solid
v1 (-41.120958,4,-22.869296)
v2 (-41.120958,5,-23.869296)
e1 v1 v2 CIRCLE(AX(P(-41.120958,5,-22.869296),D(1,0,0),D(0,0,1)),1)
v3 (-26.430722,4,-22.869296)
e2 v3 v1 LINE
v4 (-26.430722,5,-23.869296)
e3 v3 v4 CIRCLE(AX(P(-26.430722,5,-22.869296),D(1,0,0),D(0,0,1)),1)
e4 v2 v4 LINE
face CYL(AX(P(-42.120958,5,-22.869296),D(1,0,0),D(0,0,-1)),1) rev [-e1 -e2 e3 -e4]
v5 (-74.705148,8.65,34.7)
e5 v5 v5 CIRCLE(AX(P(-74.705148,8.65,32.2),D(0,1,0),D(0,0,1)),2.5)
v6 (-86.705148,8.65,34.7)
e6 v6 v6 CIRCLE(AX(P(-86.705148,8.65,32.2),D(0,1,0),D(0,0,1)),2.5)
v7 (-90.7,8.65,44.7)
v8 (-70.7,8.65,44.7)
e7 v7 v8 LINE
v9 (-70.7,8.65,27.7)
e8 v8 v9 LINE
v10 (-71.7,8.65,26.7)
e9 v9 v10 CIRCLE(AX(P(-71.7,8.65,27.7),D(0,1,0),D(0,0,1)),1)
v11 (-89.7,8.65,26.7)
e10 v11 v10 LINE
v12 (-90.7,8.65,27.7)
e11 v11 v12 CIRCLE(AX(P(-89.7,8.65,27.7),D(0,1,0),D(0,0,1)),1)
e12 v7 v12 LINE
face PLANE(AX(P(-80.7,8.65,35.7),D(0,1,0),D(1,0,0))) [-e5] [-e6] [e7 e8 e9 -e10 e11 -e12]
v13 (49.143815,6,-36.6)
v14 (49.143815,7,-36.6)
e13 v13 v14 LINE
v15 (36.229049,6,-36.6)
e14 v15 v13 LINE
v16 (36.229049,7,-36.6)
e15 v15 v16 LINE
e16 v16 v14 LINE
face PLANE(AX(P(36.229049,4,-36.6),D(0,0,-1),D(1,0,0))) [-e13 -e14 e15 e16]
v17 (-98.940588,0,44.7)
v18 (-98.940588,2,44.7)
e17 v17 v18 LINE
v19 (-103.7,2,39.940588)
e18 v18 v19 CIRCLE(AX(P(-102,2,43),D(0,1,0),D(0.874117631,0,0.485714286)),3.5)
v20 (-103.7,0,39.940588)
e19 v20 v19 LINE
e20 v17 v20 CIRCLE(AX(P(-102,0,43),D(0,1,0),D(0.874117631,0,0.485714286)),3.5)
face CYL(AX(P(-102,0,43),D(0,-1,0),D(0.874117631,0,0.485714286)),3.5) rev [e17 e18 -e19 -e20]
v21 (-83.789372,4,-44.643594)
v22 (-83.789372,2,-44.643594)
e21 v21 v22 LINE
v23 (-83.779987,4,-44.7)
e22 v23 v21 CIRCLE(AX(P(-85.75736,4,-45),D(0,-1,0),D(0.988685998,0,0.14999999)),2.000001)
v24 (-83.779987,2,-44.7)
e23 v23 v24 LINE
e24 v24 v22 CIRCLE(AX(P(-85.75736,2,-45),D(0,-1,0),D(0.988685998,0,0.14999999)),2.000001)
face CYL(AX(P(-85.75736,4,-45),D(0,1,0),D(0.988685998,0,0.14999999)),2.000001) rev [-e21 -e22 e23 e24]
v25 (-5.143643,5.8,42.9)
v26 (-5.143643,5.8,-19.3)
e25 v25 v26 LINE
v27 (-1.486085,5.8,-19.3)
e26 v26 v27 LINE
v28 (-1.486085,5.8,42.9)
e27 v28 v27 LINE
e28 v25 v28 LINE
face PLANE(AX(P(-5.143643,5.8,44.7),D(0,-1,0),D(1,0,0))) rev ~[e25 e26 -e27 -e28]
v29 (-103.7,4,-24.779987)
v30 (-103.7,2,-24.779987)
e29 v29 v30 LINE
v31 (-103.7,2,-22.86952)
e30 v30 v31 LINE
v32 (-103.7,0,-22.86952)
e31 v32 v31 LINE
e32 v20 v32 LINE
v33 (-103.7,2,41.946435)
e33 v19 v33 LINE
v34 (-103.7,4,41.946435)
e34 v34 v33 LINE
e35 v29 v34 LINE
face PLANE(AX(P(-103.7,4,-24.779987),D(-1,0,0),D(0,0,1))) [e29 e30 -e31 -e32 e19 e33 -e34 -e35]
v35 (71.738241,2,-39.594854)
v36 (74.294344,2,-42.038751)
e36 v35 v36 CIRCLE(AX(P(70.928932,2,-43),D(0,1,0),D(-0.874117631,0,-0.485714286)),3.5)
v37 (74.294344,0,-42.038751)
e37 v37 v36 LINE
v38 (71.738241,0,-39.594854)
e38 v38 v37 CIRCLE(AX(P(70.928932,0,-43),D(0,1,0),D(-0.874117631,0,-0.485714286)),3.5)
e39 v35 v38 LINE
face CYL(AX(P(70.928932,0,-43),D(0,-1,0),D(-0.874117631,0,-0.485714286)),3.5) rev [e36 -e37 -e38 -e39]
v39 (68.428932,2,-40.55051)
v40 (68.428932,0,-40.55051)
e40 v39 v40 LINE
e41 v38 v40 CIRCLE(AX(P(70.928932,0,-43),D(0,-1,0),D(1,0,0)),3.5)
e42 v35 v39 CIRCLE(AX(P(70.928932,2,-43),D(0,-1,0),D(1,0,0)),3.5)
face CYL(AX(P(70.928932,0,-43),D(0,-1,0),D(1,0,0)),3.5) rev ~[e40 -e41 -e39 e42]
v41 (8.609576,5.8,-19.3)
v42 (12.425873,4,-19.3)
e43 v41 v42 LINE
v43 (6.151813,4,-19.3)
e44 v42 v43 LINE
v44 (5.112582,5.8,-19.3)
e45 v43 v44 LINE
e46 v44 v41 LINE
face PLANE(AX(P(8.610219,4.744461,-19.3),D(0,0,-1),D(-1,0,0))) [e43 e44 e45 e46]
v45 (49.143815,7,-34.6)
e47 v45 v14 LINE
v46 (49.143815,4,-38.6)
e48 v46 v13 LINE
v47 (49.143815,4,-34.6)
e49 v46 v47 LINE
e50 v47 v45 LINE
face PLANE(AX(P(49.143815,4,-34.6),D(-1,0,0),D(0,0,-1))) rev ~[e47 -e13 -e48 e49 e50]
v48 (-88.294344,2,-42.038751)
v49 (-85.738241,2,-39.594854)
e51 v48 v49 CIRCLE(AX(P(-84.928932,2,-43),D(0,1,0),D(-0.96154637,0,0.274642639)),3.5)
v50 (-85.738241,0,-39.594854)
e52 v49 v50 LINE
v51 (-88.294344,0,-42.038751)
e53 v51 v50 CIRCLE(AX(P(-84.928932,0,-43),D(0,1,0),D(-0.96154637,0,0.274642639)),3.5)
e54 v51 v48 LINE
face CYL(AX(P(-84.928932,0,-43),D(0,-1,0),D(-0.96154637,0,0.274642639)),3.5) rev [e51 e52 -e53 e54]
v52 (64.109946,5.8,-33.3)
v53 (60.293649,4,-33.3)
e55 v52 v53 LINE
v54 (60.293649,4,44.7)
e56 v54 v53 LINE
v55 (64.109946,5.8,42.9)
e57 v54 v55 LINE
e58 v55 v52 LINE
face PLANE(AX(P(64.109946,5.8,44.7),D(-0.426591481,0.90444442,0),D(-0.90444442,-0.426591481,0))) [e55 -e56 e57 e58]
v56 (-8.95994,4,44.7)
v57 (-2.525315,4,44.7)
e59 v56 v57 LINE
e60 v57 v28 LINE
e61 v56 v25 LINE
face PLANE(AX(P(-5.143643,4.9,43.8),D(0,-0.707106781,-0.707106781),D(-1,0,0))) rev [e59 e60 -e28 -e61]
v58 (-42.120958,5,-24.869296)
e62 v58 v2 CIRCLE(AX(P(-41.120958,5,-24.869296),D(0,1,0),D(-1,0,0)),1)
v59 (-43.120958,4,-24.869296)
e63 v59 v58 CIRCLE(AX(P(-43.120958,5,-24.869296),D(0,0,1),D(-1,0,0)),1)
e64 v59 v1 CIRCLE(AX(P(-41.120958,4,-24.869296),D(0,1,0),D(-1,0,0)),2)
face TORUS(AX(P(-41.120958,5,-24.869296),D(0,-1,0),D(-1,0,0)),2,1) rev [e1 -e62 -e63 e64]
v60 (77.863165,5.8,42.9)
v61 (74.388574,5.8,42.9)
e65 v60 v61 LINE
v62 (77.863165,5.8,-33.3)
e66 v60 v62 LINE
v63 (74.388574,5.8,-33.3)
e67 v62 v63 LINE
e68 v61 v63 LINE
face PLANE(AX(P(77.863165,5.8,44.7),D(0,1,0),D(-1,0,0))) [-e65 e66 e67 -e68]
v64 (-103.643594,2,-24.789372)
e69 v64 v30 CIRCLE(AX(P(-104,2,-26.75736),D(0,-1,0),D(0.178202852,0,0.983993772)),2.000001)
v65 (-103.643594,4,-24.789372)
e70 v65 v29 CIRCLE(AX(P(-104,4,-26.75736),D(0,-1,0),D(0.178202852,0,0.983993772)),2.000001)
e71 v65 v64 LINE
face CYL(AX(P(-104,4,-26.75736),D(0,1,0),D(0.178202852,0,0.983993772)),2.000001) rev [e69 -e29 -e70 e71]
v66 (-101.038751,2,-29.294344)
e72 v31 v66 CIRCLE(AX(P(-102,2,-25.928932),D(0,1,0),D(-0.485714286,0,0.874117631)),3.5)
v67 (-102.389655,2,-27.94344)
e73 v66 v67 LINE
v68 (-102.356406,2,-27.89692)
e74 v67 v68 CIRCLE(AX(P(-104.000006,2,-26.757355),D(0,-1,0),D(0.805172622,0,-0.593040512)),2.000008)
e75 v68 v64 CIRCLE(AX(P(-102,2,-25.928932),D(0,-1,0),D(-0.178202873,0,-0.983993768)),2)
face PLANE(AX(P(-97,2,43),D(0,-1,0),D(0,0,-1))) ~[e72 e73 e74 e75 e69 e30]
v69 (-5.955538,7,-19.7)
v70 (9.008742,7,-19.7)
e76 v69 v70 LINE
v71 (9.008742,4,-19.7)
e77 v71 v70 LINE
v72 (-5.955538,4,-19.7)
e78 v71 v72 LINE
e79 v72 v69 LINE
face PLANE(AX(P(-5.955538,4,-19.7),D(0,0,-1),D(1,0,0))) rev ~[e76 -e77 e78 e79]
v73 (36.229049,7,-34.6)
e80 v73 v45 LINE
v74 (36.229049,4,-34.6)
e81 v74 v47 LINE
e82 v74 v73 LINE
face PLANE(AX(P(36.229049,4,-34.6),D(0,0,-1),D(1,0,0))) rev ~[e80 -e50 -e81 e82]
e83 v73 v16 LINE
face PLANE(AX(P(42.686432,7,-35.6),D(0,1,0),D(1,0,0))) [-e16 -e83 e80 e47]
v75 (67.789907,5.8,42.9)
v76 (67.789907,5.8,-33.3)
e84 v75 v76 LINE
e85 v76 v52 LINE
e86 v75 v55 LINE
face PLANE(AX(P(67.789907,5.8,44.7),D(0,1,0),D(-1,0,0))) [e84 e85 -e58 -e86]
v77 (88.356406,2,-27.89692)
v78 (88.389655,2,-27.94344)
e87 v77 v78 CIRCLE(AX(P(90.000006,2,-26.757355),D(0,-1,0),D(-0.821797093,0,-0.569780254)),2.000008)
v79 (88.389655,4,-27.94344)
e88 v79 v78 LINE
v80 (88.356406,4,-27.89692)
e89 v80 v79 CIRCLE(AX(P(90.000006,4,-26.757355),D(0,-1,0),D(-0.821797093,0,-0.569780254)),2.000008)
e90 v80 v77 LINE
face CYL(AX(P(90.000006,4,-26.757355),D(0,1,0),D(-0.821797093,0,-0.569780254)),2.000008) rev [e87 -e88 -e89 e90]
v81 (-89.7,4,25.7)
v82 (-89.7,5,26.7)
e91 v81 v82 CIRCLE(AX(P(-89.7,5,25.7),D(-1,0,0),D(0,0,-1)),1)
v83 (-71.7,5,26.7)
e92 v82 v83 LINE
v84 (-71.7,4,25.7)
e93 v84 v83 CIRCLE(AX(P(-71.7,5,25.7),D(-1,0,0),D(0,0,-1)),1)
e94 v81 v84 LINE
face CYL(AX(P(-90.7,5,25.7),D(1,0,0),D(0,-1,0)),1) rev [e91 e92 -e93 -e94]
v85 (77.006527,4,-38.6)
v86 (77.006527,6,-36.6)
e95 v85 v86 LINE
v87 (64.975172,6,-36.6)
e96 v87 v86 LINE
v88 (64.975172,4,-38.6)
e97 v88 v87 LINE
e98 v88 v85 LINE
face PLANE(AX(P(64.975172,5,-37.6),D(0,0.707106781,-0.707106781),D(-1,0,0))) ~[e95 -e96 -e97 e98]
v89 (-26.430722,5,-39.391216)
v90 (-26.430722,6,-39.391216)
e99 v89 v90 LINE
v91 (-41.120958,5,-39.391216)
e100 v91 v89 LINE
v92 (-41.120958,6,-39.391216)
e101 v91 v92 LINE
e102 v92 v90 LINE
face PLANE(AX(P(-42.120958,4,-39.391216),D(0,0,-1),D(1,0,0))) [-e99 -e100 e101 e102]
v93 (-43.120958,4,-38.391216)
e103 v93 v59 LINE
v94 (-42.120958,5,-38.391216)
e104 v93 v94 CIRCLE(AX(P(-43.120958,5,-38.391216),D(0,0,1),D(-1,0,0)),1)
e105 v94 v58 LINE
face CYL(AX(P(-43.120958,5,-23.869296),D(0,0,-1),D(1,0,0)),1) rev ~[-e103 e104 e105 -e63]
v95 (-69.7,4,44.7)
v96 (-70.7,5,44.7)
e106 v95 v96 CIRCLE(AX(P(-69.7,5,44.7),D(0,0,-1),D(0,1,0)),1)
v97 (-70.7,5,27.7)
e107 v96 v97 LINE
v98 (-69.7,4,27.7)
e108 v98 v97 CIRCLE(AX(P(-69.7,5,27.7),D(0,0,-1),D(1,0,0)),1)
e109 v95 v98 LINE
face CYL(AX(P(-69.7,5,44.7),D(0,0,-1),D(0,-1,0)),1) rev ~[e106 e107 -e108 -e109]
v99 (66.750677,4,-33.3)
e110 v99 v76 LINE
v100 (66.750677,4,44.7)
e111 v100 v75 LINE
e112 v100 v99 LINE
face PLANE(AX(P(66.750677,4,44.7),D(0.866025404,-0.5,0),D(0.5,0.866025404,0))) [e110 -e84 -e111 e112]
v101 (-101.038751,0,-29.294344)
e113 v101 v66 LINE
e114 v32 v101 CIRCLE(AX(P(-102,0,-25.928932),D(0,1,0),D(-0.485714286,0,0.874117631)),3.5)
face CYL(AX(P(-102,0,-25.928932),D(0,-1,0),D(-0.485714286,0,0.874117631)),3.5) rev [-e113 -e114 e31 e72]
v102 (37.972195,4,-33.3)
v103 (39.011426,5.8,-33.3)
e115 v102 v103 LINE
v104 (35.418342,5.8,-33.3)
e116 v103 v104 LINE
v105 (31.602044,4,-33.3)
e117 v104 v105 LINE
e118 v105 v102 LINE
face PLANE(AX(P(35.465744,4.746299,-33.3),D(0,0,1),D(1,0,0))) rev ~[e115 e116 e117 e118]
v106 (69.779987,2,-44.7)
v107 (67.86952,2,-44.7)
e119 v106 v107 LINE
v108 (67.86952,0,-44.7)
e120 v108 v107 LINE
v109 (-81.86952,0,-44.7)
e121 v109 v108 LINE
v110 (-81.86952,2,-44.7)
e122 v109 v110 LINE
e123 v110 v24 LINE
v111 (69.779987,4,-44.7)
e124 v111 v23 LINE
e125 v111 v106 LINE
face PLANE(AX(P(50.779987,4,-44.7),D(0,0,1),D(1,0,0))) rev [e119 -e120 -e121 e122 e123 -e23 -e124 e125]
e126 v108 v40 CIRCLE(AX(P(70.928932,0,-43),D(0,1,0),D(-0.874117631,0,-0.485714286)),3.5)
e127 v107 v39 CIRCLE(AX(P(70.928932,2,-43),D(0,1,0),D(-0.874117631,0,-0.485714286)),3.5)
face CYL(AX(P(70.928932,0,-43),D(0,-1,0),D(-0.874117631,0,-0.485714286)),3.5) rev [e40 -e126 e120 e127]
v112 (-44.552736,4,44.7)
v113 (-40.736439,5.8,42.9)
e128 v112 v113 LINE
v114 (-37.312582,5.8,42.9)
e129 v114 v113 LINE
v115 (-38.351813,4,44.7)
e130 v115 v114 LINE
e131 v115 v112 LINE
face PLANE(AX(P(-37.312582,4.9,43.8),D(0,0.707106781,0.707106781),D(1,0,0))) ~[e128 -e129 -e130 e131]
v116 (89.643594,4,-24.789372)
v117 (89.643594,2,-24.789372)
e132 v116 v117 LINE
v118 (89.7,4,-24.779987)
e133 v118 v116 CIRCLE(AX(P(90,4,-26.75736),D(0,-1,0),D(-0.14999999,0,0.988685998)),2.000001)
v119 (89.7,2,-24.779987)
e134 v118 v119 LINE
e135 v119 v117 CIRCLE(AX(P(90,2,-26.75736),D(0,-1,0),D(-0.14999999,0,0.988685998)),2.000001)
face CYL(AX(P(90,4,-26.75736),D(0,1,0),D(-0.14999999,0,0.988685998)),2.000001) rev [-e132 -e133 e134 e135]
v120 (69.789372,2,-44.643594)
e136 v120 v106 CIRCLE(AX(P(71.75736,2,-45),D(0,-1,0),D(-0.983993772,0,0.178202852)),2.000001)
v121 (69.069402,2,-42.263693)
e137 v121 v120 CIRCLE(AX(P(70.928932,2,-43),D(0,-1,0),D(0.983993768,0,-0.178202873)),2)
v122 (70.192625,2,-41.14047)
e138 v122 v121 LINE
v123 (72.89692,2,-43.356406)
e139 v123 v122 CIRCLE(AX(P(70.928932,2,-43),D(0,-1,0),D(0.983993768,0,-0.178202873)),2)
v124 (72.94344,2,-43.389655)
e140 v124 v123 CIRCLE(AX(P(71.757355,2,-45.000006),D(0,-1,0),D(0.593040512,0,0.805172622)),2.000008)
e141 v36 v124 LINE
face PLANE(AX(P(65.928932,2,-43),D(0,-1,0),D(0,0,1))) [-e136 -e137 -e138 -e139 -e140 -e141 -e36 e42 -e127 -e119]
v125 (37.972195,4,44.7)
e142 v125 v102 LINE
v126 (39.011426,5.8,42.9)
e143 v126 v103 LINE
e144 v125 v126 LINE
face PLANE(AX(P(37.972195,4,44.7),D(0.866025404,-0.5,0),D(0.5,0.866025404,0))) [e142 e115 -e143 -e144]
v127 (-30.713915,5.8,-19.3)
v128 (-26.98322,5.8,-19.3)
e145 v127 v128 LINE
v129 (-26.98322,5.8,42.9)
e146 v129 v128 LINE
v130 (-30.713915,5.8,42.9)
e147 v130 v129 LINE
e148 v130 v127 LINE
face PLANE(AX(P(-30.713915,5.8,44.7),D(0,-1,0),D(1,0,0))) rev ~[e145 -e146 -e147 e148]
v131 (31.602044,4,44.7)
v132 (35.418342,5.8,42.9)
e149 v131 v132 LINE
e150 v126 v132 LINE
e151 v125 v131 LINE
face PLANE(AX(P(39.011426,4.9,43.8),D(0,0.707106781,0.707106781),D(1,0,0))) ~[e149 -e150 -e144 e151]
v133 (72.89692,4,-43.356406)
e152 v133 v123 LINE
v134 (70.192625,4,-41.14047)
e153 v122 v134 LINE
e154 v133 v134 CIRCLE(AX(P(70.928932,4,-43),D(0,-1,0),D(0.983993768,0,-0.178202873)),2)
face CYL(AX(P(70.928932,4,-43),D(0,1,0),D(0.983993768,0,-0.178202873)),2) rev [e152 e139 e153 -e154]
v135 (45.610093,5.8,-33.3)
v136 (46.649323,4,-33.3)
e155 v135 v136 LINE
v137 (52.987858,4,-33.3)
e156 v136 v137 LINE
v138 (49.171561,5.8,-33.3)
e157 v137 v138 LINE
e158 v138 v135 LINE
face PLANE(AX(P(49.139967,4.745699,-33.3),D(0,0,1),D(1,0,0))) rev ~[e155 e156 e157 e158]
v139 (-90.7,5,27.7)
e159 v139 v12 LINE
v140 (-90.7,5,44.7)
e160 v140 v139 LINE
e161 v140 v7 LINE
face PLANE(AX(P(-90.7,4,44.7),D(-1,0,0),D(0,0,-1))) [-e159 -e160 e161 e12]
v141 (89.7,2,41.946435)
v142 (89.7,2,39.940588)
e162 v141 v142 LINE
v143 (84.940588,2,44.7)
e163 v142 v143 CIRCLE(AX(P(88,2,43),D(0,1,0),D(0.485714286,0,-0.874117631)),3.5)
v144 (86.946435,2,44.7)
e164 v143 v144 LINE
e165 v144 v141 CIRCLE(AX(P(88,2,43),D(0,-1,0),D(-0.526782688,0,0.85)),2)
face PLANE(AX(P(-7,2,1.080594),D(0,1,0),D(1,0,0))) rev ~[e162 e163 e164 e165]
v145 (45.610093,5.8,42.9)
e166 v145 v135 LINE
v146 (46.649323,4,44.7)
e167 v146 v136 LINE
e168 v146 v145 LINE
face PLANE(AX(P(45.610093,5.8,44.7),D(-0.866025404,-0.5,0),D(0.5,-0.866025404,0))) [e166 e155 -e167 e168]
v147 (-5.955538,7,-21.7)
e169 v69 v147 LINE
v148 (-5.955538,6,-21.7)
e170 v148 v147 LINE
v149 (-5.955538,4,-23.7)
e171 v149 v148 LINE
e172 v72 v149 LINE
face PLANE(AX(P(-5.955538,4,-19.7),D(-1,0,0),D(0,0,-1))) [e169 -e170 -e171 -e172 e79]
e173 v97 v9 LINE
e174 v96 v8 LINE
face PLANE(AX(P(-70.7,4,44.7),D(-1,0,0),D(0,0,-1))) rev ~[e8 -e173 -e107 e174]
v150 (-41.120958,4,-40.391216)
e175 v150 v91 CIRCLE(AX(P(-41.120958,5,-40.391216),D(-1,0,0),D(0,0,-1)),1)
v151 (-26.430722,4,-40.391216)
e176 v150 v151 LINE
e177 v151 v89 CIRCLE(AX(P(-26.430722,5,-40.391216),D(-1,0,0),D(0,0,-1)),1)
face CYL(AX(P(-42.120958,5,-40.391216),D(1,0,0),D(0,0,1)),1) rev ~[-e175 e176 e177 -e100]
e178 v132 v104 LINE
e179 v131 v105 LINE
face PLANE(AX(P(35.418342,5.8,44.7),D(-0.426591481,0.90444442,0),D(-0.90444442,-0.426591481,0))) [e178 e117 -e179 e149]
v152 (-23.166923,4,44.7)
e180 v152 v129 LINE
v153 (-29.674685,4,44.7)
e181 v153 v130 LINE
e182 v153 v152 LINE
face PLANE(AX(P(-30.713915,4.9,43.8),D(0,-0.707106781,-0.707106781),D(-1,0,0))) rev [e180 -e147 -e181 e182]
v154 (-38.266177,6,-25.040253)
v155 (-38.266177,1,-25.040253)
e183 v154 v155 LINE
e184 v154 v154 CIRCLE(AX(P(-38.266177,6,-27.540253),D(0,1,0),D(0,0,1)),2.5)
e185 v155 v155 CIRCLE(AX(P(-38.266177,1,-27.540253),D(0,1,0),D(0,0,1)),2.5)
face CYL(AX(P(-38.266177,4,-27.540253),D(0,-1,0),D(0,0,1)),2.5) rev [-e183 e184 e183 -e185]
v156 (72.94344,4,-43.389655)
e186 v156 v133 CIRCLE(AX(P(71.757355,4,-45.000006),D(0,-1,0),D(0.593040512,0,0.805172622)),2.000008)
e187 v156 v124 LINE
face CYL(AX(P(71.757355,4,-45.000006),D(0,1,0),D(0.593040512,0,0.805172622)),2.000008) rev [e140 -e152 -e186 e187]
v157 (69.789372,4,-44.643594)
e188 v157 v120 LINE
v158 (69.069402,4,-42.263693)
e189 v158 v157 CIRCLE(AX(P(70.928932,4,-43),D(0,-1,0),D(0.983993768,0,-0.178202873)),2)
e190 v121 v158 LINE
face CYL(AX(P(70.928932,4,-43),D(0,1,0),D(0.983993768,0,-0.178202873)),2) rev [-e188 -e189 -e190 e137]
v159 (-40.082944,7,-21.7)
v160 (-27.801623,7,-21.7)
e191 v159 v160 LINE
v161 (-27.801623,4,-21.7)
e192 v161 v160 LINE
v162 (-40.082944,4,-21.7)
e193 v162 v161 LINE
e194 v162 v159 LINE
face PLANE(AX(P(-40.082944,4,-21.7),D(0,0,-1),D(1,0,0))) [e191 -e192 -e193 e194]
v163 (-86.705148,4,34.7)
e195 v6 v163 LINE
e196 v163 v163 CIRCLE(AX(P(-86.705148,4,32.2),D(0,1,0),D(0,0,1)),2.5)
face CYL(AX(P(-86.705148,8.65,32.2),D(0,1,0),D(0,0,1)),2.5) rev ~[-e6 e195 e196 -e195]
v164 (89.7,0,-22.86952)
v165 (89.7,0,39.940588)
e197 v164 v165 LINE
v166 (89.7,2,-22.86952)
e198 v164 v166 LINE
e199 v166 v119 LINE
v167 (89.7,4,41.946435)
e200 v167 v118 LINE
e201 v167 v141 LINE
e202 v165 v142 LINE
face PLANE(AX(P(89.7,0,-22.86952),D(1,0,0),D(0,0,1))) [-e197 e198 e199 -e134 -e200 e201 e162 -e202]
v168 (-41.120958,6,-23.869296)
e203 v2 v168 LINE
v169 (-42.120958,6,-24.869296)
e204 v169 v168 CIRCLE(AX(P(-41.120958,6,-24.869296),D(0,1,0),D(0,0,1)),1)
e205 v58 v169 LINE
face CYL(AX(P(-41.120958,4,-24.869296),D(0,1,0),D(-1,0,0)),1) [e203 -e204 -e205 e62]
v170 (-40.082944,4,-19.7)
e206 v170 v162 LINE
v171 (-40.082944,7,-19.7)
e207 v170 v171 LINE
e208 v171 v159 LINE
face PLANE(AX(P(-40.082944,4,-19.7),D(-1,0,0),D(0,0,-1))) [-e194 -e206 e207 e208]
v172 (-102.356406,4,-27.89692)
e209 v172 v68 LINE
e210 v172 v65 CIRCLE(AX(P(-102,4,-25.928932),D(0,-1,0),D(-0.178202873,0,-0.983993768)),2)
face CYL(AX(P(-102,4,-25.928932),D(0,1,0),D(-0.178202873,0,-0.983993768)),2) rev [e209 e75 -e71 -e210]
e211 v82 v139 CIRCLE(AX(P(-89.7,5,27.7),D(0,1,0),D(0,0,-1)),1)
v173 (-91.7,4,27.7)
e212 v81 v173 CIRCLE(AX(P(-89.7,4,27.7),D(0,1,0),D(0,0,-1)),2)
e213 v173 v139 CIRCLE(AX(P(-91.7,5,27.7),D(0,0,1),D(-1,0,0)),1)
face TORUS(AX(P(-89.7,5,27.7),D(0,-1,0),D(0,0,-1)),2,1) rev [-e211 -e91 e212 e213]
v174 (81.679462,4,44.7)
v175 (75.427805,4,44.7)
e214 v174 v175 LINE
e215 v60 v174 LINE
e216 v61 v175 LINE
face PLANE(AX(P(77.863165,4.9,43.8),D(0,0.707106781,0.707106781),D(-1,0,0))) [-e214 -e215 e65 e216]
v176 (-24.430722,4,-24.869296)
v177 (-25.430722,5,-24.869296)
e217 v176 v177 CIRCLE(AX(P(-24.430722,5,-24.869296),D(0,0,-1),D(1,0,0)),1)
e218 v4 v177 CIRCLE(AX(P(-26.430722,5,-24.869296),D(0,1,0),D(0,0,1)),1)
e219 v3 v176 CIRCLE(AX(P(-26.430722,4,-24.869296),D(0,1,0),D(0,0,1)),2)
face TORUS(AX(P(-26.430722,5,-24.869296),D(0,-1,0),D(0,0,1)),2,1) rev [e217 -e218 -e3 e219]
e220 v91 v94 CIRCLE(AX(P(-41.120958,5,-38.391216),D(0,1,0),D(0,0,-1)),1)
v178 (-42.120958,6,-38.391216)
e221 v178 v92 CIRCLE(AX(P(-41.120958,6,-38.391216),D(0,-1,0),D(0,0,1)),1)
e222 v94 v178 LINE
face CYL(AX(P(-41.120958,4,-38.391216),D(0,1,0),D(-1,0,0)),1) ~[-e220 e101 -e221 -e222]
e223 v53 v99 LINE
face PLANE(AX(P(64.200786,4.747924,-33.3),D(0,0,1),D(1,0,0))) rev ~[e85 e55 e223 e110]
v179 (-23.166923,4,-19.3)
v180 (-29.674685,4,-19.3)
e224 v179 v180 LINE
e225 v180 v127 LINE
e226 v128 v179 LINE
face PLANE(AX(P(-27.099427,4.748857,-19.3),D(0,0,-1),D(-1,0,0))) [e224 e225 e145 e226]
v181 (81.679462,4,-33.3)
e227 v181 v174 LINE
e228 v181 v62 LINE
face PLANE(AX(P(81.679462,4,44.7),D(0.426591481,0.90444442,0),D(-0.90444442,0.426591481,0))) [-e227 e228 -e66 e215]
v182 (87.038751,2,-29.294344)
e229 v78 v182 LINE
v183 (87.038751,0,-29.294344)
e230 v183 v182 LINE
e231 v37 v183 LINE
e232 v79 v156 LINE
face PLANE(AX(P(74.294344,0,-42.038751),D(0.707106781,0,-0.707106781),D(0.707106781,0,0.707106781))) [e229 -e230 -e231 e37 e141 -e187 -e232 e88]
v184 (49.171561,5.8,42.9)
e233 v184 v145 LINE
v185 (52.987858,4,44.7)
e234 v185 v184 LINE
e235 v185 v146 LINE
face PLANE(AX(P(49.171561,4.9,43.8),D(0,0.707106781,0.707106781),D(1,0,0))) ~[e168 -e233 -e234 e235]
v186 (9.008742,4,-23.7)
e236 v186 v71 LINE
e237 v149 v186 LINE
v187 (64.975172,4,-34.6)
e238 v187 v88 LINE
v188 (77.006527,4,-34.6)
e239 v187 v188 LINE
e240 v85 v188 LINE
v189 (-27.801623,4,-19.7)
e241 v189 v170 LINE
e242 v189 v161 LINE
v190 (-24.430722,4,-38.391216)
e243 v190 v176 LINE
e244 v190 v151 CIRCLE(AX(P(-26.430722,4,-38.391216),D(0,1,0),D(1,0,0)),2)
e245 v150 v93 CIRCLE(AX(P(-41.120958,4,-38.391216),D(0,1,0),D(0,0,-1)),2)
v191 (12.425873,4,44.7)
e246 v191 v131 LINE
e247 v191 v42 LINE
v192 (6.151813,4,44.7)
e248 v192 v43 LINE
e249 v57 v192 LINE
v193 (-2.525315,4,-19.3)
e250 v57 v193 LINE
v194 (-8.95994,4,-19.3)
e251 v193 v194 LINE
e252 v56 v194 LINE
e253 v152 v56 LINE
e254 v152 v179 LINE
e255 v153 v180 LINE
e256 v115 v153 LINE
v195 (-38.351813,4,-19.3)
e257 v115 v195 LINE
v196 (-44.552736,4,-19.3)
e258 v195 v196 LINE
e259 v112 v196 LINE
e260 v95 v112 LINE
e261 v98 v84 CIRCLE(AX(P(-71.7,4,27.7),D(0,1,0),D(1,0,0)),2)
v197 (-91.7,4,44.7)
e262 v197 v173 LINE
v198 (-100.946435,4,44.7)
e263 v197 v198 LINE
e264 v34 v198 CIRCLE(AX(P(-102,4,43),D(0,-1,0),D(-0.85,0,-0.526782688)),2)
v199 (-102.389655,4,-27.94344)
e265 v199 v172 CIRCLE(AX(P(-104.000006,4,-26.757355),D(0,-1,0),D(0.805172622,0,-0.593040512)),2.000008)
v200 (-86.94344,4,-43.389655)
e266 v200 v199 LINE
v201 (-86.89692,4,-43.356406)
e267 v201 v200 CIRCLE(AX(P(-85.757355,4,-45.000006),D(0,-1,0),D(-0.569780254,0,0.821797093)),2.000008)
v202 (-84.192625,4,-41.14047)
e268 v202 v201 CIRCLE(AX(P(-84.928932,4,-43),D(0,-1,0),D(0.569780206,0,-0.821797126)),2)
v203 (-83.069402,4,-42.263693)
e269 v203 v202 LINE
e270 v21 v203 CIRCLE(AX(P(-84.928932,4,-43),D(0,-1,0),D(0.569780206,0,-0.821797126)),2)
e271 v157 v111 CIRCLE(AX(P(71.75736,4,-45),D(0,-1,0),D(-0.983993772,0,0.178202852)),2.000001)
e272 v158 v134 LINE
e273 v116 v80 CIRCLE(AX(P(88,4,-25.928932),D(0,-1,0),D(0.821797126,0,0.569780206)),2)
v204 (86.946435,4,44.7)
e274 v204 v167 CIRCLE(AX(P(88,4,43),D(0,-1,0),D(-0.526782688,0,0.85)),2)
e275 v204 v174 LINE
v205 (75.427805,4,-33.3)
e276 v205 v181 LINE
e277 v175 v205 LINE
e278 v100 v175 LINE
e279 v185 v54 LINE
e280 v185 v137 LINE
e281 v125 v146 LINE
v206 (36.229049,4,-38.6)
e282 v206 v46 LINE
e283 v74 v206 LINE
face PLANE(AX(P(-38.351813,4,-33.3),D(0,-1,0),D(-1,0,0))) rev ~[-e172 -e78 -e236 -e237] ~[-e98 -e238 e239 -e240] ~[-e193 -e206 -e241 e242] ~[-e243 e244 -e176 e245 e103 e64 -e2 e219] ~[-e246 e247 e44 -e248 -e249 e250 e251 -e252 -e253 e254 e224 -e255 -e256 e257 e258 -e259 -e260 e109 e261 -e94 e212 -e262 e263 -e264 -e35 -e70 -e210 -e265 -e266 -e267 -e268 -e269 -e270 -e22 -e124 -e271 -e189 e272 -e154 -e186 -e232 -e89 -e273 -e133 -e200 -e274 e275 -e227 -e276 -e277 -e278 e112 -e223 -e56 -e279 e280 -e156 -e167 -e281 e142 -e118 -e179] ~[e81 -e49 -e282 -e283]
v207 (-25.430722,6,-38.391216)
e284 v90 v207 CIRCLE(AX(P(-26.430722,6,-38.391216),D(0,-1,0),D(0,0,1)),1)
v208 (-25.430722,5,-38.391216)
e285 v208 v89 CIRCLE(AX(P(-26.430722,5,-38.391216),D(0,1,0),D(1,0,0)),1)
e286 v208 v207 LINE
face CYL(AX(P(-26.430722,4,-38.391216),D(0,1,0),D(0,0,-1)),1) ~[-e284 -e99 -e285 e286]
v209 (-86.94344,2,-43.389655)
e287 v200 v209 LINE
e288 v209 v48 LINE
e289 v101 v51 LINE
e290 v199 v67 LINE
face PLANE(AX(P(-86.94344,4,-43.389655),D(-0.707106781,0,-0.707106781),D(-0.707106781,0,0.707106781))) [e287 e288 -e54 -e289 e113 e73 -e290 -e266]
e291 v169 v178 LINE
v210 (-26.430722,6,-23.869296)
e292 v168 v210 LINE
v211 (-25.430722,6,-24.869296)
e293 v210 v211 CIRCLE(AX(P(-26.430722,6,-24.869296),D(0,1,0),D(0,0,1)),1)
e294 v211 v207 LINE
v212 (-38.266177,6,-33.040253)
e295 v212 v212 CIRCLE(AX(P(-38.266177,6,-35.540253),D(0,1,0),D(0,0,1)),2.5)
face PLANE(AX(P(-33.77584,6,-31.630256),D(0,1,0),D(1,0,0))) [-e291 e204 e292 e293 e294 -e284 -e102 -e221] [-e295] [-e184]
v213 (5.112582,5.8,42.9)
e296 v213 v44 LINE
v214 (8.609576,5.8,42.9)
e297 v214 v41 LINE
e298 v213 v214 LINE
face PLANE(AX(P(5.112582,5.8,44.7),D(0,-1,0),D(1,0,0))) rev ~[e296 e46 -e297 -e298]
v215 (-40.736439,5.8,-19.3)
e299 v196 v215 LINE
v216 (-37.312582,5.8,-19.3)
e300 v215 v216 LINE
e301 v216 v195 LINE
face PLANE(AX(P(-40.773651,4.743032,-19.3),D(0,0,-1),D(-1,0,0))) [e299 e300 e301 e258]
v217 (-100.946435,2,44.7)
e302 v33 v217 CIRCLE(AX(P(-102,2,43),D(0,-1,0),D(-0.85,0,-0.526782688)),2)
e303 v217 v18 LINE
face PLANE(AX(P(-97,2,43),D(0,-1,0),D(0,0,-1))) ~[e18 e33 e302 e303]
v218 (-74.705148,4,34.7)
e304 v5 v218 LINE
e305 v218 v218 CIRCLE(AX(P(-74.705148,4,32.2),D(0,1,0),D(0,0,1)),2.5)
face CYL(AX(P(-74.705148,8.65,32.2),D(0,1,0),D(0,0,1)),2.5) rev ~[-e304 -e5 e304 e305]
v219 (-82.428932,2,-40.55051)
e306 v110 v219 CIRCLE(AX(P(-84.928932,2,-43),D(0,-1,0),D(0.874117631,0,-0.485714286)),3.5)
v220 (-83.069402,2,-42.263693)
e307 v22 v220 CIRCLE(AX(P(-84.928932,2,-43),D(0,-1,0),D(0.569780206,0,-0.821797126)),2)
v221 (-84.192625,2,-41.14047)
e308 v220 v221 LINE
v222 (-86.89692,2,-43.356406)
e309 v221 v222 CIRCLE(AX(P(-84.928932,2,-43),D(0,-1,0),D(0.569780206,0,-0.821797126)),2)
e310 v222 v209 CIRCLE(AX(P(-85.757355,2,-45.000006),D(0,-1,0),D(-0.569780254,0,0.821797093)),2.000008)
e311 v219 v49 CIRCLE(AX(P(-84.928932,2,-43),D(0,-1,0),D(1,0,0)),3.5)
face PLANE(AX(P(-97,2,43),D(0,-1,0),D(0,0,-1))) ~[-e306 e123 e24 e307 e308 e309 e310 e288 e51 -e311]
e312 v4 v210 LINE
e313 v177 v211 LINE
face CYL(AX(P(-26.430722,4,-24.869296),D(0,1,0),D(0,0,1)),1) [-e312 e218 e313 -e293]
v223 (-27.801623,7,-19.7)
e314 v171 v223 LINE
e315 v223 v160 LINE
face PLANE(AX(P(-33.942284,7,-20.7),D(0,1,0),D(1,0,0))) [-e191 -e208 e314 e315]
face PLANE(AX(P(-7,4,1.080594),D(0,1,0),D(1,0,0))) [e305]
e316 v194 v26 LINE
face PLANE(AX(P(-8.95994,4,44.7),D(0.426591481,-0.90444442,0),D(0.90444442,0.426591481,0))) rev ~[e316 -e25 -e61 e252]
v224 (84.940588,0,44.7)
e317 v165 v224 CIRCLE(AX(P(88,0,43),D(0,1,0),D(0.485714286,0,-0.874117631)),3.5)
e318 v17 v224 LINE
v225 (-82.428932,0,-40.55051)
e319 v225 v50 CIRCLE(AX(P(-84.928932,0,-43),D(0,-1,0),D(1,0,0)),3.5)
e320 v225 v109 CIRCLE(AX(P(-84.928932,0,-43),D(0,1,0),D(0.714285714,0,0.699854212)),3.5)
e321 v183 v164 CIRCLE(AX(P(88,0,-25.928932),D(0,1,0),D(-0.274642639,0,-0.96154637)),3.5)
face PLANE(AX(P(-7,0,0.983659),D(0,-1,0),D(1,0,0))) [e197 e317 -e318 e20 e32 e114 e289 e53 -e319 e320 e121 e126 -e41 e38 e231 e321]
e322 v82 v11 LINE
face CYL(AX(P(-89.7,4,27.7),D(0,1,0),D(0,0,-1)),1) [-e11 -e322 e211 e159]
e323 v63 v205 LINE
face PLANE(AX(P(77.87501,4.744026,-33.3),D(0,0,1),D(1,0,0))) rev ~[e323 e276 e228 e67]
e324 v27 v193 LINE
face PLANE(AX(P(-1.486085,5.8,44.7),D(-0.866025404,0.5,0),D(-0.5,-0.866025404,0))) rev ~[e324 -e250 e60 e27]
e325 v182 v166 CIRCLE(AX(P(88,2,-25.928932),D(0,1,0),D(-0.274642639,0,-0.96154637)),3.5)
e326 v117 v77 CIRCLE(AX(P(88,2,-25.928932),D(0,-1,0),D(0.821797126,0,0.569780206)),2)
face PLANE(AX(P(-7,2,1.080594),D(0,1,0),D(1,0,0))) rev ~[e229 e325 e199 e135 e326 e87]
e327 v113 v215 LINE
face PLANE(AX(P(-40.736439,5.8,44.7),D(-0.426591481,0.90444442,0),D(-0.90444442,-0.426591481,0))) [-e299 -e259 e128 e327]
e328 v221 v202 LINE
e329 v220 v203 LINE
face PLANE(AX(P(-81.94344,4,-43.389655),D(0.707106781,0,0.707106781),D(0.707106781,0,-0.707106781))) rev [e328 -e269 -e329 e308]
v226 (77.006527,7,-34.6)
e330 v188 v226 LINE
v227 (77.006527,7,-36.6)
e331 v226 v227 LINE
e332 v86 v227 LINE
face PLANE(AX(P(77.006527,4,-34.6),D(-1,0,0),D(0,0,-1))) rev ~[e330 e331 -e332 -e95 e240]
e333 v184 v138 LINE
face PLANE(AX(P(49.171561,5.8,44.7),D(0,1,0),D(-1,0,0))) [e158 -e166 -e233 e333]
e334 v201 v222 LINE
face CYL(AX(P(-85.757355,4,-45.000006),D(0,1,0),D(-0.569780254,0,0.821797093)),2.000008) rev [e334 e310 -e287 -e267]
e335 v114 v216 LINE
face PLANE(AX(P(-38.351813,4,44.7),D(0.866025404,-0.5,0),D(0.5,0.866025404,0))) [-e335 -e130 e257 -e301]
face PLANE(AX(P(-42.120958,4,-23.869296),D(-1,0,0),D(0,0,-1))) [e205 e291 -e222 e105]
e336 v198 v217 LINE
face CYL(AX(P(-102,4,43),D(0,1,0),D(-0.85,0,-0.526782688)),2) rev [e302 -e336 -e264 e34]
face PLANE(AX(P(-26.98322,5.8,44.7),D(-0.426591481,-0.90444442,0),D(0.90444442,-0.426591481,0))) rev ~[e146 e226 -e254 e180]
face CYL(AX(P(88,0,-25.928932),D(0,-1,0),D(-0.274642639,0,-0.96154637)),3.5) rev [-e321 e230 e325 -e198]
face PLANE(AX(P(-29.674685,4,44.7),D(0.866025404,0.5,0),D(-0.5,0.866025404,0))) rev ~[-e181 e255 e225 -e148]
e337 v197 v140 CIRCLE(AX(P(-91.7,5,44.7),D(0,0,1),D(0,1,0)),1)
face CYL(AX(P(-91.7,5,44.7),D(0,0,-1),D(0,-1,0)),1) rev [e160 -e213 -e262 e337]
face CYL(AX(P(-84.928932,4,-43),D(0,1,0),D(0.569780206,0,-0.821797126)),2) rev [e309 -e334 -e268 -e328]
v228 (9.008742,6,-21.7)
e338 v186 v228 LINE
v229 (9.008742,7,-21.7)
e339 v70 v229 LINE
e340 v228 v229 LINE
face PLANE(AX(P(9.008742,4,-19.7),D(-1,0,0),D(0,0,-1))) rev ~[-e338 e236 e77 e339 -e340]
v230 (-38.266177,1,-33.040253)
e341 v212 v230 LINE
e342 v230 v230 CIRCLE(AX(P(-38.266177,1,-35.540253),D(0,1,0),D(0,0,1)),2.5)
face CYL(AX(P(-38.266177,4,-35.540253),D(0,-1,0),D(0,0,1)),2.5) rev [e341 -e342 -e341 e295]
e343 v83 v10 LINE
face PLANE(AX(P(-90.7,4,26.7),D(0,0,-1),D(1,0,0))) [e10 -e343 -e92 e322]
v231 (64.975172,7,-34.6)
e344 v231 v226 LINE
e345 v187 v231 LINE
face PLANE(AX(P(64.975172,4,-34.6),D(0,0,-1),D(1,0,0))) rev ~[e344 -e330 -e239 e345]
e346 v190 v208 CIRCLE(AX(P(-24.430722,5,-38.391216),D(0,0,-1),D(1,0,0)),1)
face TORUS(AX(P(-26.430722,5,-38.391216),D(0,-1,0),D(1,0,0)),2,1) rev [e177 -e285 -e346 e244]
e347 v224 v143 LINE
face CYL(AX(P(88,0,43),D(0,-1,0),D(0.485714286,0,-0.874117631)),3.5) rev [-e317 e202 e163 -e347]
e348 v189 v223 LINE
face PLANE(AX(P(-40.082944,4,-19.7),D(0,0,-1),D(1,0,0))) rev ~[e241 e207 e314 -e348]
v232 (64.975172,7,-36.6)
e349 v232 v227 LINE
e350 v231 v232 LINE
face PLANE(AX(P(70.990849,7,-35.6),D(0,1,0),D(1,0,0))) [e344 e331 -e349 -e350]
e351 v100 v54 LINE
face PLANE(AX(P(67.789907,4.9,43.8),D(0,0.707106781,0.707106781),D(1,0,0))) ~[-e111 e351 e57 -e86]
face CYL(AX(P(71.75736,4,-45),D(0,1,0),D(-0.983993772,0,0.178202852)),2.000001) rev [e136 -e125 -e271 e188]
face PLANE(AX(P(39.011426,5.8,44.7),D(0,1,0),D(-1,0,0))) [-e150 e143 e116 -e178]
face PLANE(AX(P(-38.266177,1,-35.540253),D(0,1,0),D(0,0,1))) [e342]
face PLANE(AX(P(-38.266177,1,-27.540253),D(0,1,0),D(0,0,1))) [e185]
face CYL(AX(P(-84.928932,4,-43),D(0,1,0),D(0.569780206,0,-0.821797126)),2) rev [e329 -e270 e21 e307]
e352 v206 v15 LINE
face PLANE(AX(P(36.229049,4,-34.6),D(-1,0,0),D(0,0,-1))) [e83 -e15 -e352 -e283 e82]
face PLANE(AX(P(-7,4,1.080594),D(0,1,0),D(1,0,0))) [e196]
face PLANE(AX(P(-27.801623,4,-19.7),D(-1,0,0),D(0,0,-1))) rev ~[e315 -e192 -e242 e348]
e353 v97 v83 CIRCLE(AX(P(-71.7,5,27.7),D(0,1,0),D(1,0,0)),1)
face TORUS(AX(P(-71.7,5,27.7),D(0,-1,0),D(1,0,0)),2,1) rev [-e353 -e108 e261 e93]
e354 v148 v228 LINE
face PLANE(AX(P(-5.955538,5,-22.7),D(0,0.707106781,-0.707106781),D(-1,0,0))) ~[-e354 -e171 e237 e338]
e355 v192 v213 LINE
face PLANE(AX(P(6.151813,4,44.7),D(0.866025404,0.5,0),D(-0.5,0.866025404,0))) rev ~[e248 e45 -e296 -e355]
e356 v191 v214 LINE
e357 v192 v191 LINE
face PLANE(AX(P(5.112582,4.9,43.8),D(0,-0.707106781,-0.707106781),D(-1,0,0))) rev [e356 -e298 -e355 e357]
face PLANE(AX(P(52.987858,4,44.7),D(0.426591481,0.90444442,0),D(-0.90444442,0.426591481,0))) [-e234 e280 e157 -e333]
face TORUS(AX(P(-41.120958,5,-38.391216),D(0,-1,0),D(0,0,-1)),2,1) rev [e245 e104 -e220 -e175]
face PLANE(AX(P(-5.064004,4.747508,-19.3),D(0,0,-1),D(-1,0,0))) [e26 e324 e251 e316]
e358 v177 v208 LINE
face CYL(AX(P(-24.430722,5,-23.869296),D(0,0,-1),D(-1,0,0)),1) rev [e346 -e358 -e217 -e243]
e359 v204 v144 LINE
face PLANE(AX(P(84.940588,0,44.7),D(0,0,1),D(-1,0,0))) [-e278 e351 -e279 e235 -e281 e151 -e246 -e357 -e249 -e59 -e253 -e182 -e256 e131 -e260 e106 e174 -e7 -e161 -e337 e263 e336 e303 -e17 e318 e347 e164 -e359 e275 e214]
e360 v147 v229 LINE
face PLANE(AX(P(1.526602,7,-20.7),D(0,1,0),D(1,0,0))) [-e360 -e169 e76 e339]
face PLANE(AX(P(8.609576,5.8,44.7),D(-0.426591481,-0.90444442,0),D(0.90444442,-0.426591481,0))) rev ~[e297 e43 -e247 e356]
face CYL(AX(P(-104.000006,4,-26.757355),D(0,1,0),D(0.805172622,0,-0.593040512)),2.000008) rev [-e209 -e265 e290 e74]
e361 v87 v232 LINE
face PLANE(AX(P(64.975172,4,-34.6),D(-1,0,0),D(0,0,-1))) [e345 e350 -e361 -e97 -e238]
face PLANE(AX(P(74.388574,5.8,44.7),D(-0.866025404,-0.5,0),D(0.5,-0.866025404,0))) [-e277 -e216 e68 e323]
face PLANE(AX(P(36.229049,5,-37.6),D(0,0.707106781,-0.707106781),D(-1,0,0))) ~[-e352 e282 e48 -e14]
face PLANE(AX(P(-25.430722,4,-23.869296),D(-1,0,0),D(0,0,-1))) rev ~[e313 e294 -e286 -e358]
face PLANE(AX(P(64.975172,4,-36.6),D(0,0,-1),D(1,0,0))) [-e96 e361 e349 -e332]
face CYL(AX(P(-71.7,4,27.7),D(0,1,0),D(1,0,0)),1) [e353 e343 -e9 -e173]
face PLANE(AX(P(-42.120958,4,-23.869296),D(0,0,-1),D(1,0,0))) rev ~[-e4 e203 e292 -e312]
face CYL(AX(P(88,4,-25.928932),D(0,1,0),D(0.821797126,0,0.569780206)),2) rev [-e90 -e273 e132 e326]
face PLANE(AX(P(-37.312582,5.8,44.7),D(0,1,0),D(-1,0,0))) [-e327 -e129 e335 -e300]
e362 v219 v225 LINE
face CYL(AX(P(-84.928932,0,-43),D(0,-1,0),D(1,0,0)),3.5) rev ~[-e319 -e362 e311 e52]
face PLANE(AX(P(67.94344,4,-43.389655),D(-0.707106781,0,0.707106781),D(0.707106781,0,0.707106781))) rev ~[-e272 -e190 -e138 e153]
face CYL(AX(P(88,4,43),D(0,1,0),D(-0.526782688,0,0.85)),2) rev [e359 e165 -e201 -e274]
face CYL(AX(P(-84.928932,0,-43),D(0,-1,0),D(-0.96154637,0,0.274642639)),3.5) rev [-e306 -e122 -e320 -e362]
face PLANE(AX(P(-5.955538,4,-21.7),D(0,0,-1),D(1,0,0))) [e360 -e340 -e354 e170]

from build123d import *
from build123d.topology import SkipClean

# Parameters (mm, degrees)
BOSS_EXTRUDE1_DEPTH  = 4
SKETCH14_R           = 2
CUT_EXTRUDE6_DEPTH   = 15
SKETCH15_R           = 3.5
CUT_EXTRUDE8_DEPTH   = 2
FILLET1_R            = 5
CUT_EXTRUDE9_DEPTH   = 10
SKETCH19_W           = 20
SKETCH19_H           = 18
BOSS_EXTRUDE3_DEPTH  = 10
FILLET2_R            = 1
SKETCH20_R           = 2.5
CUT_EXTRUDE11_DEPTH  = 7
SKETCH22_W           = 12.771739203
SKETCH22_H           = 9.483989937
BOSS_EXTRUDE4_DEPTH  = 7
SKETCH23_W           = 89.809130607
SKETCH23_H           = 26.593384299
CUT_EXTRUDE12_DEPTH  = 89.4
BOSS_EXTRUDE5_DEPTH  = 78
CHAMFER1_SIZE        = 1.8
SKETCH27_W           = 20
SKETCH27_H           = 18
BOSS_EXTRUDE7_DEPTH  = 4.65
SKETCH29_R           = 2.5
CUT_EXTRUDE13_DEPTH  = 7
BOSS_EXTRUDE9_DEPTH  = 2
BOSS_EXTRUDE10_DEPTH = 2
CUT_EXTRUDE14_START  = 2
SKETCH34_R           = 3.5
CUT_EXTRUDE14_DEPTH  = 2
CUT_EXTRUDE15_DEPTH  = 14
SKETCH26_W           = 12.281321475
SKETCH26_H           = 2
SKETCH26_W_2         = 14.964279685
SKETCH26_W_3         = 12.914766221
SKETCH26_W_4         = 12.03135527
BOSS_EXTRUDE6_DEPTH  = 3
SKETCH31_W           = 16.690236125
SKETCH31_H           = 15.521919596
SKETCH31_R           = 2.5
BOSS_EXTRUDE8_DEPTH  = 2
FILLET3_R            = 1
CUT_EXTRUDE16_START  = -3
SKETCH37_R           = 2.5
CUT_EXTRUDE16_DEPTH  = 3
CHAMFER2_SIZE        = 2


with BuildPart() as part:
    # Sketch1 → Boss-Extrude1 (new body)
    with BuildSketch(Plane(origin=(0, 0, 0), x_dir=(1, 0, 0), z_dir=(0, 1, 0))):
        Polygon((-68, 48), (-88, 28), (-88, -48), (88, -48), (88, 28), (68, 48), align=None)
    extrude(amount=BOSS_EXTRUDE1_DEPTH)

    # Sketch14 → Cut-Extrude6 (cut)
    with BuildSketch(Plane(origin=(0, 4, 0), x_dir=(1, 0, 0), z_dir=(0, 1, 0))):
        with Locations(Location((-65.928932188, 43, 0), (0, 0, 270))):
            Circle(SKETCH14_R)
        with Locations(Location((-83, 25.928932188, 0), (0, 0, 270))):
            Circle(SKETCH14_R)
        with Locations(Location((-83, -43, 0), (0, 0, 270))):
            Circle(SKETCH14_R)
        with Locations(Location((65.928932188, 43, 0), (0, 0, 270))):
            Circle(SKETCH14_R)
        with Locations(Location((83, 25.928932188, 0), (0, 0, 270))):
            Circle(SKETCH14_R)
        with Locations(Location((83, -43, 0), (0, 0, 270))):
            Circle(SKETCH14_R)
    extrude(amount=-CUT_EXTRUDE6_DEPTH, mode=Mode.SUBTRACT)

    # Sketch15 → Cut-Extrude8 (cut)
    with BuildSketch(Plane.XZ):
        with Locations(Location((-83, 43, 0), (0, 0, 270))):
            Circle(SKETCH15_R)
        with Locations(Location((-83, -25.928932188, 0), (0, 0, 270))):
            Circle(SKETCH15_R)
        with Locations(Location((-65.928932188, -43, 0), (0, 0, 270))):
            Circle(SKETCH15_R)
        with Locations(Location((65.928932188, -43, 0), (0, 0, 90))):
            Circle(SKETCH15_R)
        with Locations(Location((83, -25.928932188, 0), (0, 0, 90))):
            Circle(SKETCH15_R)
        with Locations(Location((83, 43, 0), (0, 0, 90))):
            Circle(SKETCH15_R)
    extrude(amount=-CUT_EXTRUDE8_DEPTH, mode=Mode.SUBTRACT)

    # Fillet1
    fillet1_edges = [part.edges().sort_by_distance(p)[0] for p in [
        (88, 2, 48),
        (-88, 2, 48),
        (-88, 2, -28),
        (-68, 2, -48),
        (68, 2, -48),
        (88, 2, -28),
    ]]
    fillet(fillet1_edges, radius=FILLET1_R)

    # Sketch10 → Cut-Extrude9 (cut)
    with BuildSketch(Plane(origin=(0, 4, 0), x_dir=(1, 0, 0), z_dir=(0, 1, 0))):
        Polygon((88, 28), (68, 48), (-68, 48), (-88, 28), (-88, -48), (88, -48), align=None)
        with BuildLine():
            Line((82.015037689, -44.7), (-82.015037689, -44.7))
            ThreePointArc((-82.015037689, -44.7), (-82.878679656, -42.878679656), (-84.7, -42.015037689))
            Line((-84.7, -42.015037689), (-84.7, 24.77998732))
            ThreePointArc((-84.7, 24.77998732), (-83.152240935, 25.991992448), (-83.38965482, 27.943440424))
            Line((-83.38965482, 27.943440424), (-67.943440424, 43.38965482))
            ThreePointArc((-67.943440424, 43.38965482), (-65.991992448, 43.152240935), (-64.77998732, 44.7))
            Line((-64.77998732, 44.7), (64.77998732, 44.7))
            ThreePointArc((64.77998732, 44.7), (65.991992448, 43.152240935), (67.943440424, 43.38965482))
            Line((67.943440424, 43.38965482), (83.38965482, 27.943440424))
            ThreePointArc((83.38965482, 27.943440424), (83.152240935, 25.991992448), (84.7, 24.77998732))
            Line((84.7, 24.77998732), (84.7, -42.015037689))
            ThreePointArc((84.7, -42.015037689), (82.878679656, -42.878679656), (82.015037689, -44.7))
        make_face(mode=Mode.SUBTRACT)
    extrude(amount=-CUT_EXTRUDE9_DEPTH, mode=Mode.SUBTRACT)

    # Sketch19 → Boss-Extrude3 (add)
    with BuildSketch(Plane(origin=(0, 4, 0), x_dir=(1, 0, 0), z_dir=(0, 1, 0))):
        with Locations((-66.7, -33.7)):
            Rectangle(SKETCH19_W, SKETCH19_H)
    extrude(amount=BOSS_EXTRUDE3_DEPTH)

    # Fillet2
    fillet2_edges = [part.edges().sort_by_distance(p)[0] for p in [
        (-56.7, 4, 33.7),
        (-56.7, 9, 42.7),
        (-66.7, 4, 24.7),
        (-56.7, 9, 24.7),
        (-76.7, 4, 33.7),
        (-76.7, 9, 24.7),
        (-66.7, 4, 42.7),
        (-76.7, 9, 42.7),
    ]]
    fillet(fillet2_edges, radius=FILLET2_R)

    # Sketch20 → Cut-Extrude11 (cut)
    with BuildSketch(Plane(origin=(0, 14, 0), x_dir=(1, 0, 0), z_dir=(0, 1, 0))):
        with Locations(Location((-72.7, -30.7, 0), (0, 0, 270))):
            Circle(SKETCH20_R)
        with Locations(Location((-60.7, -30.7, 0), (0, 0, 270))):
            Circle(SKETCH20_R)
    extrude(amount=-CUT_EXTRUDE11_DEPTH, mode=Mode.SUBTRACT)

    # Sketch22 → Boss-Extrude4 (add)
    with BuildSketch(Plane(origin=(0, 4, 0), x_dir=(1, 0, 0), z_dir=(0, 1, 0))):
        with Locations((-63.26521836, 26.866876224)):
            Rectangle(SKETCH22_W, SKETCH22_H)
    extrude(amount=BOSS_EXTRUDE4_DEPTH)

    # Sketch23 → Cut-Extrude12 (cut)
    with BuildSketch(Plane(origin=(0, 0, -44.7), x_dir=(-1, 0, 0), z_dir=(0, 0, -1))):
        with Locations((51.904565304, 13.29669215)):
            Rectangle(SKETCH23_W, SKETCH23_H)
    extrude(amount=-CUT_EXTRUDE12_DEPTH, mode=Mode.SUBTRACT)

    # Mirror1: part across plane


with BuildPart() as part_1:
    add(part.part)
    add(part.part.mirror(Plane(origin=(-7, 0, 138.36369643), x_dir=(0, 0, 1), z_dir=(1, 0, 0))))

    # Sketch25 → Boss-Extrude5 (add)
    with BuildSketch(Plane.XY.offset(44.7)):
        Polygon((-44.552736061, 4), (-38.351812719, 4), (-37.312582234, 5.8), (-40.736438675, 5.8), align=None)
        Polygon((-29.674684589, 4), (-30.713915074, 5.8), (-26.983219906, 5.8), (-23.16692252, 4), align=None)
        Polygon((-1.486084926, 5.8), (-2.525315411, 4), (-8.959940042, 4), (-5.143642656, 5.8), align=None)
        Polygon((6.151812719, 4), (5.112582234, 5.8), (8.609576113, 5.8), (12.425873499, 4), align=None)
        Polygon((37.972195357, 4), (39.011425841, 5.8), (35.418341792, 5.8), (31.602044406, 4), align=None)
        Polygon((45.610093002, 5.8), (46.649323486, 4), (52.987857947, 4), (49.171560561, 5.8), align=None)
        Polygon((66.750676514, 4), (67.789906998, 5.8), (64.109946158, 5.8), (60.293648771, 4), align=None)
        Polygon((74.388574159, 5.8), (75.427804643, 4), (81.679462313, 4), (77.863164927, 5.8), align=None)
    extrude(amount=-BOSS_EXTRUDE5_DEPTH)

    # Chamfer1
    chamfer1_edges = [part_1.edges().sort_by_distance(p)[0] for p in [
        (76.125869543, 5.8, 44.7),
        (65.949926578, 5.8, 44.7),
        (47.390826781, 5.8, 44.7),
        (37.214883817, 5.8, 44.7),
        (6.861079173, 5.8, 44.7),
        (-3.314863791, 5.8, 44.7),
        (-28.84856749, 5.8, 44.7),
        (-39.024510454, 5.8, 44.7),
    ]]
    chamfer(chamfer1_edges, length=CHAMFER1_SIZE)

    # Sketch27 → Boss-Extrude7 (add)
    with BuildSketch(Plane(origin=(0, 4, 0), x_dir=(1, 0, 0), z_dir=(0, 1, 0))):
        with Locations((-80.7, -35.7)):
            Rectangle(SKETCH27_W, SKETCH27_H)
    extrude(amount=BOSS_EXTRUDE7_DEPTH)

    # Sketch29 → Cut-Extrude13 (cut)
    with BuildSketch(Plane(origin=(0, 8.65, 0), x_dir=(1, 0, 0), z_dir=(0, 1, 0))):
        with Locations(Location((-86.705148319, -32.2, 0), (0, 0, 270))):
            Circle(SKETCH29_R)
        with Locations(Location((-74.705148319, -32.2, 0), (0, 0, 270))):
            Circle(SKETCH29_R)
    extrude(amount=-CUT_EXTRUDE13_DEPTH, mode=Mode.SUBTRACT)

    # Sketch32 → Boss-Extrude9 (add)
    with BuildSketch(Plane(origin=(0, 4, 0), x_dir=(1, 0, 0), z_dir=(0, 1, 0))):
        with BuildLine():
            Line((81.479462313, -44.7), (86.946434625, -44.7))
            ThreePointArc((86.946434625, -44.7), (86.585786438, -41.585786438), (89.7, -41.946434625))
            Line((89.7, -41.946434625), (89.7, 24.77998732))
            ThreePointArc((89.7, 24.77998732), (89.671763586, 24.784477954), (89.643594253, 24.789371776))
            ThreePointArc((89.643594253, 24.789371776), (86.152240935, 25.163565323), (88.356405747, 27.896919725))
            ThreePointArc((88.356405747, 27.896919725), (88.372864019, 27.920298906), (88.38965482, 27.943440424))
            Line((88.38965482, 27.943440424), (72.943440424, 43.38965482))
            ThreePointArc((72.943440424, 43.38965482), (72.920298906, 43.372864019), (72.896919725, 43.356405747))
            ThreePointArc((72.896919725, 43.356405747), (70.163565323, 41.152240935), (69.789371776, 44.643594253))
            ThreePointArc((69.789371776, 44.643594253), (69.784477954, 44.671763586), (69.77998732, 44.7))
            Line((69.77998732, 44.7), (-83.77998732, 44.7))
            ThreePointArc((-83.77998732, 44.7), (-83.784477954, 44.671763586), (-83.789371776, 44.643594253))
            ThreePointArc((-83.789371776, 44.643594253), (-84.163565323, 41.152240935), (-86.896919725, 43.356405747))
            ThreePointArc((-86.896919725, 43.356405747), (-86.920298906, 43.372864019), (-86.943440424, 43.38965482))
            Line((-86.943440424, 43.38965482), (-102.38965482, 27.943440424))
            ThreePointArc((-102.38965482, 27.943440424), (-102.372864019, 27.920298906), (-102.356405747, 27.896919725))
            ThreePointArc((-102.356405747, 27.896919725), (-100.152240935, 25.163565323), (-103.643594253, 24.789371776))
            ThreePointArc((-103.643594253, 24.789371776), (-103.671763586, 24.784477954), (-103.7, 24.77998732))
            Line((-103.7, 24.77998732), (-103.7, -41.946434625))
            ThreePointArc((-103.7, -41.946434625), (-100.585786438, -41.585786438), (-100.946434625, -44.7))
            Line((-100.946434625, -44.7), (81.479462313, -44.7))
        make_face()
    extrude(amount=-BOSS_EXTRUDE9_DEPTH)

    # Sketch33 → Boss-Extrude10 (add)
    with BuildSketch(Plane.XZ):
        with BuildLine():
            Line((84.940588292, 44.7), (-98.940588292, 44.7))
            ThreePointArc((-98.940588292, 44.7), (-99.525126266, 40.525126266), (-103.7, 39.940588292))
            Line((-103.7, 39.940588292), (-103.7, -22.86952048))
            ThreePointArc((-103.7, -22.86952048), (-98.766421636, -24.589540175), (-101.038750763, -29.294344481))
            Line((-101.038750763, -29.294344481), (-88.294344481, -42.038750763))
            ThreePointArc((-88.294344481, -42.038750763), (-83.589540175, -39.766421636), (-81.86952048, -44.7))
            Line((-81.86952048, -44.7), (67.86952048, -44.7))
            ThreePointArc((67.86952048, -44.7), (69.589540175, -39.766421636), (74.294344481, -42.038750763))
            Line((74.294344481, -42.038750763), (87.038750763, -29.294344481))
            ThreePointArc((87.038750763, -29.294344481), (84.766421636, -24.589540175), (89.7, -22.86952048))
            Line((89.7, -22.86952048), (89.7, 39.940588292))
            ThreePointArc((89.7, 39.940588292), (85.525126266, 40.525126266), (84.940588292, 44.7))
        make_face()
    extrude(amount=-BOSS_EXTRUDE10_DEPTH)

    # Sketch34 → Cut-Extrude14 (cut)
    with SkipClean():  # the faces are left unmerged after this step: merging them gives an invalid solid
        with BuildSketch(Plane.XZ.offset(-2).offset(CUT_EXTRUDE14_START)):
            with Locations((-84.928932188, -43)):
                Circle(SKETCH34_R)
            with Locations((70.928932188, -43)):
                Circle(SKETCH34_R)
        extrude(amount=-CUT_EXTRUDE14_DEPTH, mode=Mode.SUBTRACT)

    # Sketch36 → Cut-Extrude15 (cut)
    with SkipClean():  # the faces are left unmerged after this step: merging them gives an invalid solid
        with BuildSketch(Plane(origin=(0, 0, -33.3), x_dir=(-1, 0, 0), z_dir=(0, 0, -1))):
            Polygon((37.312582234, 5.8), (38.351812719, 4), (44.552736061, 4), (40.736438675, 5.8), align=None)
            Polygon((23.16692252, 4), (29.674684589, 4), (30.713915074, 5.8), (26.983219906, 5.8), align=None)
            Polygon((2.525315411, 4), (8.959940042, 4), (5.143642656, 5.8), (1.486084926, 5.8), align=None)
            Polygon((-12.425873499, 4), (-6.151812719, 4), (-5.112582234, 5.8), (-8.609576113, 5.8), align=None)
        extrude(amount=-CUT_EXTRUDE15_DEPTH, mode=Mode.SUBTRACT)

    # Sketch26 → Boss-Extrude6 (add)
    with SkipClean():  # the faces are left unmerged after this step: merging them gives an invalid solid
        with BuildSketch(Plane(origin=(0, 4, 0), x_dir=(1, 0, 0), z_dir=(0, 1, 0))):
            with Locations((-33.94228357, 20.7)):
                Rectangle(SKETCH26_W, SKETCH26_H)
            with Locations((1.526601791, 20.7)):
                Rectangle(SKETCH26_W_2, SKETCH26_H)
            with Locations((42.686432004, 35.6)):
                Rectangle(SKETCH26_W_3, SKETCH26_H)
            with Locations((70.990849415, 35.6)):
                Rectangle(SKETCH26_W_4, SKETCH26_H)
        extrude(amount=BOSS_EXTRUDE6_DEPTH)

    # Sketch31 → Boss-Extrude8 (add)
    with SkipClean():  # the faces are left unmerged after this step: merging them gives an invalid solid
        with BuildSketch(Plane(origin=(0, 4, 0), x_dir=(1, 0, 0), z_dir=(0, 1, 0))):
            with Locations((-33.775839682, 31.630255934)):
                Rectangle(SKETCH31_W, SKETCH31_H)
            with Locations(Location((-38.266176731, 35.540253239, 0), (0, 0, 270))):
                Circle(SKETCH31_R, mode=Mode.SUBTRACT)
            with Locations(Location((-38.266176731, 27.540252604, 0), (0, 0, 270))):
                Circle(SKETCH31_R, mode=Mode.SUBTRACT)
        extrude(amount=BOSS_EXTRUDE8_DEPTH)

    # Fillet3
    fillet3_edges = [part_1.edges().sort_by_distance(p)[0] for p in [
        (-70.7, 4, 35.7),
        (-80.7, 4, 26.7),
        (-70.7, 6.325, 26.7),
        (-90.7, 4, 35.7),
        (-90.7, 6.325, 26.7),
        (-42.120957744, 4, -28.584648068),
        (-42.120957744, 5, -39.391215732),
        (-34.013248654, 4, -23.869296136),
        (-42.120957744, 5, -23.869296136),
        (-25.430721619, 4, -28.584648068),
        (-25.430721619, 5, -23.869296136),
        (-33.775839682, 4, -39.391215732),
        (-25.430721619, 5, -39.391215732),
    ]]
    fillet(fillet3_edges, radius=FILLET3_R)

    # Sketch37 → Cut-Extrude16 (cut)
    with SkipClean():  # the faces are left unmerged after this step: merging them gives an invalid solid
        with BuildSketch(Plane(origin=(0, 4, 0), x_dir=(1, 0, 0), z_dir=(0, 1, 0)).offset(CUT_EXTRUDE16_START)):
            with Locations(Location((-38.266176731, 27.540252604, 0), (0, 0, 270))):
                Circle(SKETCH37_R)
            with Locations(Location((-38.266176731, 35.540253239, 0), (0, 0, 270))):
                Circle(SKETCH37_R)
        extrude(amount=CUT_EXTRUDE16_DEPTH, mode=Mode.SUBTRACT)

    # Chamfer2
    chamfer2_edges = [part_1.edges().sort_by_distance(p)[0] for p in [
        (1.813248654, 4, -21.7),
        (42.686432003, 4, -36.6),
        (70.990849415, 4, -36.6),
    ]]
    chamfer(chamfer2_edges, length=CHAMFER2_SIZE)


solid = part_1.part
